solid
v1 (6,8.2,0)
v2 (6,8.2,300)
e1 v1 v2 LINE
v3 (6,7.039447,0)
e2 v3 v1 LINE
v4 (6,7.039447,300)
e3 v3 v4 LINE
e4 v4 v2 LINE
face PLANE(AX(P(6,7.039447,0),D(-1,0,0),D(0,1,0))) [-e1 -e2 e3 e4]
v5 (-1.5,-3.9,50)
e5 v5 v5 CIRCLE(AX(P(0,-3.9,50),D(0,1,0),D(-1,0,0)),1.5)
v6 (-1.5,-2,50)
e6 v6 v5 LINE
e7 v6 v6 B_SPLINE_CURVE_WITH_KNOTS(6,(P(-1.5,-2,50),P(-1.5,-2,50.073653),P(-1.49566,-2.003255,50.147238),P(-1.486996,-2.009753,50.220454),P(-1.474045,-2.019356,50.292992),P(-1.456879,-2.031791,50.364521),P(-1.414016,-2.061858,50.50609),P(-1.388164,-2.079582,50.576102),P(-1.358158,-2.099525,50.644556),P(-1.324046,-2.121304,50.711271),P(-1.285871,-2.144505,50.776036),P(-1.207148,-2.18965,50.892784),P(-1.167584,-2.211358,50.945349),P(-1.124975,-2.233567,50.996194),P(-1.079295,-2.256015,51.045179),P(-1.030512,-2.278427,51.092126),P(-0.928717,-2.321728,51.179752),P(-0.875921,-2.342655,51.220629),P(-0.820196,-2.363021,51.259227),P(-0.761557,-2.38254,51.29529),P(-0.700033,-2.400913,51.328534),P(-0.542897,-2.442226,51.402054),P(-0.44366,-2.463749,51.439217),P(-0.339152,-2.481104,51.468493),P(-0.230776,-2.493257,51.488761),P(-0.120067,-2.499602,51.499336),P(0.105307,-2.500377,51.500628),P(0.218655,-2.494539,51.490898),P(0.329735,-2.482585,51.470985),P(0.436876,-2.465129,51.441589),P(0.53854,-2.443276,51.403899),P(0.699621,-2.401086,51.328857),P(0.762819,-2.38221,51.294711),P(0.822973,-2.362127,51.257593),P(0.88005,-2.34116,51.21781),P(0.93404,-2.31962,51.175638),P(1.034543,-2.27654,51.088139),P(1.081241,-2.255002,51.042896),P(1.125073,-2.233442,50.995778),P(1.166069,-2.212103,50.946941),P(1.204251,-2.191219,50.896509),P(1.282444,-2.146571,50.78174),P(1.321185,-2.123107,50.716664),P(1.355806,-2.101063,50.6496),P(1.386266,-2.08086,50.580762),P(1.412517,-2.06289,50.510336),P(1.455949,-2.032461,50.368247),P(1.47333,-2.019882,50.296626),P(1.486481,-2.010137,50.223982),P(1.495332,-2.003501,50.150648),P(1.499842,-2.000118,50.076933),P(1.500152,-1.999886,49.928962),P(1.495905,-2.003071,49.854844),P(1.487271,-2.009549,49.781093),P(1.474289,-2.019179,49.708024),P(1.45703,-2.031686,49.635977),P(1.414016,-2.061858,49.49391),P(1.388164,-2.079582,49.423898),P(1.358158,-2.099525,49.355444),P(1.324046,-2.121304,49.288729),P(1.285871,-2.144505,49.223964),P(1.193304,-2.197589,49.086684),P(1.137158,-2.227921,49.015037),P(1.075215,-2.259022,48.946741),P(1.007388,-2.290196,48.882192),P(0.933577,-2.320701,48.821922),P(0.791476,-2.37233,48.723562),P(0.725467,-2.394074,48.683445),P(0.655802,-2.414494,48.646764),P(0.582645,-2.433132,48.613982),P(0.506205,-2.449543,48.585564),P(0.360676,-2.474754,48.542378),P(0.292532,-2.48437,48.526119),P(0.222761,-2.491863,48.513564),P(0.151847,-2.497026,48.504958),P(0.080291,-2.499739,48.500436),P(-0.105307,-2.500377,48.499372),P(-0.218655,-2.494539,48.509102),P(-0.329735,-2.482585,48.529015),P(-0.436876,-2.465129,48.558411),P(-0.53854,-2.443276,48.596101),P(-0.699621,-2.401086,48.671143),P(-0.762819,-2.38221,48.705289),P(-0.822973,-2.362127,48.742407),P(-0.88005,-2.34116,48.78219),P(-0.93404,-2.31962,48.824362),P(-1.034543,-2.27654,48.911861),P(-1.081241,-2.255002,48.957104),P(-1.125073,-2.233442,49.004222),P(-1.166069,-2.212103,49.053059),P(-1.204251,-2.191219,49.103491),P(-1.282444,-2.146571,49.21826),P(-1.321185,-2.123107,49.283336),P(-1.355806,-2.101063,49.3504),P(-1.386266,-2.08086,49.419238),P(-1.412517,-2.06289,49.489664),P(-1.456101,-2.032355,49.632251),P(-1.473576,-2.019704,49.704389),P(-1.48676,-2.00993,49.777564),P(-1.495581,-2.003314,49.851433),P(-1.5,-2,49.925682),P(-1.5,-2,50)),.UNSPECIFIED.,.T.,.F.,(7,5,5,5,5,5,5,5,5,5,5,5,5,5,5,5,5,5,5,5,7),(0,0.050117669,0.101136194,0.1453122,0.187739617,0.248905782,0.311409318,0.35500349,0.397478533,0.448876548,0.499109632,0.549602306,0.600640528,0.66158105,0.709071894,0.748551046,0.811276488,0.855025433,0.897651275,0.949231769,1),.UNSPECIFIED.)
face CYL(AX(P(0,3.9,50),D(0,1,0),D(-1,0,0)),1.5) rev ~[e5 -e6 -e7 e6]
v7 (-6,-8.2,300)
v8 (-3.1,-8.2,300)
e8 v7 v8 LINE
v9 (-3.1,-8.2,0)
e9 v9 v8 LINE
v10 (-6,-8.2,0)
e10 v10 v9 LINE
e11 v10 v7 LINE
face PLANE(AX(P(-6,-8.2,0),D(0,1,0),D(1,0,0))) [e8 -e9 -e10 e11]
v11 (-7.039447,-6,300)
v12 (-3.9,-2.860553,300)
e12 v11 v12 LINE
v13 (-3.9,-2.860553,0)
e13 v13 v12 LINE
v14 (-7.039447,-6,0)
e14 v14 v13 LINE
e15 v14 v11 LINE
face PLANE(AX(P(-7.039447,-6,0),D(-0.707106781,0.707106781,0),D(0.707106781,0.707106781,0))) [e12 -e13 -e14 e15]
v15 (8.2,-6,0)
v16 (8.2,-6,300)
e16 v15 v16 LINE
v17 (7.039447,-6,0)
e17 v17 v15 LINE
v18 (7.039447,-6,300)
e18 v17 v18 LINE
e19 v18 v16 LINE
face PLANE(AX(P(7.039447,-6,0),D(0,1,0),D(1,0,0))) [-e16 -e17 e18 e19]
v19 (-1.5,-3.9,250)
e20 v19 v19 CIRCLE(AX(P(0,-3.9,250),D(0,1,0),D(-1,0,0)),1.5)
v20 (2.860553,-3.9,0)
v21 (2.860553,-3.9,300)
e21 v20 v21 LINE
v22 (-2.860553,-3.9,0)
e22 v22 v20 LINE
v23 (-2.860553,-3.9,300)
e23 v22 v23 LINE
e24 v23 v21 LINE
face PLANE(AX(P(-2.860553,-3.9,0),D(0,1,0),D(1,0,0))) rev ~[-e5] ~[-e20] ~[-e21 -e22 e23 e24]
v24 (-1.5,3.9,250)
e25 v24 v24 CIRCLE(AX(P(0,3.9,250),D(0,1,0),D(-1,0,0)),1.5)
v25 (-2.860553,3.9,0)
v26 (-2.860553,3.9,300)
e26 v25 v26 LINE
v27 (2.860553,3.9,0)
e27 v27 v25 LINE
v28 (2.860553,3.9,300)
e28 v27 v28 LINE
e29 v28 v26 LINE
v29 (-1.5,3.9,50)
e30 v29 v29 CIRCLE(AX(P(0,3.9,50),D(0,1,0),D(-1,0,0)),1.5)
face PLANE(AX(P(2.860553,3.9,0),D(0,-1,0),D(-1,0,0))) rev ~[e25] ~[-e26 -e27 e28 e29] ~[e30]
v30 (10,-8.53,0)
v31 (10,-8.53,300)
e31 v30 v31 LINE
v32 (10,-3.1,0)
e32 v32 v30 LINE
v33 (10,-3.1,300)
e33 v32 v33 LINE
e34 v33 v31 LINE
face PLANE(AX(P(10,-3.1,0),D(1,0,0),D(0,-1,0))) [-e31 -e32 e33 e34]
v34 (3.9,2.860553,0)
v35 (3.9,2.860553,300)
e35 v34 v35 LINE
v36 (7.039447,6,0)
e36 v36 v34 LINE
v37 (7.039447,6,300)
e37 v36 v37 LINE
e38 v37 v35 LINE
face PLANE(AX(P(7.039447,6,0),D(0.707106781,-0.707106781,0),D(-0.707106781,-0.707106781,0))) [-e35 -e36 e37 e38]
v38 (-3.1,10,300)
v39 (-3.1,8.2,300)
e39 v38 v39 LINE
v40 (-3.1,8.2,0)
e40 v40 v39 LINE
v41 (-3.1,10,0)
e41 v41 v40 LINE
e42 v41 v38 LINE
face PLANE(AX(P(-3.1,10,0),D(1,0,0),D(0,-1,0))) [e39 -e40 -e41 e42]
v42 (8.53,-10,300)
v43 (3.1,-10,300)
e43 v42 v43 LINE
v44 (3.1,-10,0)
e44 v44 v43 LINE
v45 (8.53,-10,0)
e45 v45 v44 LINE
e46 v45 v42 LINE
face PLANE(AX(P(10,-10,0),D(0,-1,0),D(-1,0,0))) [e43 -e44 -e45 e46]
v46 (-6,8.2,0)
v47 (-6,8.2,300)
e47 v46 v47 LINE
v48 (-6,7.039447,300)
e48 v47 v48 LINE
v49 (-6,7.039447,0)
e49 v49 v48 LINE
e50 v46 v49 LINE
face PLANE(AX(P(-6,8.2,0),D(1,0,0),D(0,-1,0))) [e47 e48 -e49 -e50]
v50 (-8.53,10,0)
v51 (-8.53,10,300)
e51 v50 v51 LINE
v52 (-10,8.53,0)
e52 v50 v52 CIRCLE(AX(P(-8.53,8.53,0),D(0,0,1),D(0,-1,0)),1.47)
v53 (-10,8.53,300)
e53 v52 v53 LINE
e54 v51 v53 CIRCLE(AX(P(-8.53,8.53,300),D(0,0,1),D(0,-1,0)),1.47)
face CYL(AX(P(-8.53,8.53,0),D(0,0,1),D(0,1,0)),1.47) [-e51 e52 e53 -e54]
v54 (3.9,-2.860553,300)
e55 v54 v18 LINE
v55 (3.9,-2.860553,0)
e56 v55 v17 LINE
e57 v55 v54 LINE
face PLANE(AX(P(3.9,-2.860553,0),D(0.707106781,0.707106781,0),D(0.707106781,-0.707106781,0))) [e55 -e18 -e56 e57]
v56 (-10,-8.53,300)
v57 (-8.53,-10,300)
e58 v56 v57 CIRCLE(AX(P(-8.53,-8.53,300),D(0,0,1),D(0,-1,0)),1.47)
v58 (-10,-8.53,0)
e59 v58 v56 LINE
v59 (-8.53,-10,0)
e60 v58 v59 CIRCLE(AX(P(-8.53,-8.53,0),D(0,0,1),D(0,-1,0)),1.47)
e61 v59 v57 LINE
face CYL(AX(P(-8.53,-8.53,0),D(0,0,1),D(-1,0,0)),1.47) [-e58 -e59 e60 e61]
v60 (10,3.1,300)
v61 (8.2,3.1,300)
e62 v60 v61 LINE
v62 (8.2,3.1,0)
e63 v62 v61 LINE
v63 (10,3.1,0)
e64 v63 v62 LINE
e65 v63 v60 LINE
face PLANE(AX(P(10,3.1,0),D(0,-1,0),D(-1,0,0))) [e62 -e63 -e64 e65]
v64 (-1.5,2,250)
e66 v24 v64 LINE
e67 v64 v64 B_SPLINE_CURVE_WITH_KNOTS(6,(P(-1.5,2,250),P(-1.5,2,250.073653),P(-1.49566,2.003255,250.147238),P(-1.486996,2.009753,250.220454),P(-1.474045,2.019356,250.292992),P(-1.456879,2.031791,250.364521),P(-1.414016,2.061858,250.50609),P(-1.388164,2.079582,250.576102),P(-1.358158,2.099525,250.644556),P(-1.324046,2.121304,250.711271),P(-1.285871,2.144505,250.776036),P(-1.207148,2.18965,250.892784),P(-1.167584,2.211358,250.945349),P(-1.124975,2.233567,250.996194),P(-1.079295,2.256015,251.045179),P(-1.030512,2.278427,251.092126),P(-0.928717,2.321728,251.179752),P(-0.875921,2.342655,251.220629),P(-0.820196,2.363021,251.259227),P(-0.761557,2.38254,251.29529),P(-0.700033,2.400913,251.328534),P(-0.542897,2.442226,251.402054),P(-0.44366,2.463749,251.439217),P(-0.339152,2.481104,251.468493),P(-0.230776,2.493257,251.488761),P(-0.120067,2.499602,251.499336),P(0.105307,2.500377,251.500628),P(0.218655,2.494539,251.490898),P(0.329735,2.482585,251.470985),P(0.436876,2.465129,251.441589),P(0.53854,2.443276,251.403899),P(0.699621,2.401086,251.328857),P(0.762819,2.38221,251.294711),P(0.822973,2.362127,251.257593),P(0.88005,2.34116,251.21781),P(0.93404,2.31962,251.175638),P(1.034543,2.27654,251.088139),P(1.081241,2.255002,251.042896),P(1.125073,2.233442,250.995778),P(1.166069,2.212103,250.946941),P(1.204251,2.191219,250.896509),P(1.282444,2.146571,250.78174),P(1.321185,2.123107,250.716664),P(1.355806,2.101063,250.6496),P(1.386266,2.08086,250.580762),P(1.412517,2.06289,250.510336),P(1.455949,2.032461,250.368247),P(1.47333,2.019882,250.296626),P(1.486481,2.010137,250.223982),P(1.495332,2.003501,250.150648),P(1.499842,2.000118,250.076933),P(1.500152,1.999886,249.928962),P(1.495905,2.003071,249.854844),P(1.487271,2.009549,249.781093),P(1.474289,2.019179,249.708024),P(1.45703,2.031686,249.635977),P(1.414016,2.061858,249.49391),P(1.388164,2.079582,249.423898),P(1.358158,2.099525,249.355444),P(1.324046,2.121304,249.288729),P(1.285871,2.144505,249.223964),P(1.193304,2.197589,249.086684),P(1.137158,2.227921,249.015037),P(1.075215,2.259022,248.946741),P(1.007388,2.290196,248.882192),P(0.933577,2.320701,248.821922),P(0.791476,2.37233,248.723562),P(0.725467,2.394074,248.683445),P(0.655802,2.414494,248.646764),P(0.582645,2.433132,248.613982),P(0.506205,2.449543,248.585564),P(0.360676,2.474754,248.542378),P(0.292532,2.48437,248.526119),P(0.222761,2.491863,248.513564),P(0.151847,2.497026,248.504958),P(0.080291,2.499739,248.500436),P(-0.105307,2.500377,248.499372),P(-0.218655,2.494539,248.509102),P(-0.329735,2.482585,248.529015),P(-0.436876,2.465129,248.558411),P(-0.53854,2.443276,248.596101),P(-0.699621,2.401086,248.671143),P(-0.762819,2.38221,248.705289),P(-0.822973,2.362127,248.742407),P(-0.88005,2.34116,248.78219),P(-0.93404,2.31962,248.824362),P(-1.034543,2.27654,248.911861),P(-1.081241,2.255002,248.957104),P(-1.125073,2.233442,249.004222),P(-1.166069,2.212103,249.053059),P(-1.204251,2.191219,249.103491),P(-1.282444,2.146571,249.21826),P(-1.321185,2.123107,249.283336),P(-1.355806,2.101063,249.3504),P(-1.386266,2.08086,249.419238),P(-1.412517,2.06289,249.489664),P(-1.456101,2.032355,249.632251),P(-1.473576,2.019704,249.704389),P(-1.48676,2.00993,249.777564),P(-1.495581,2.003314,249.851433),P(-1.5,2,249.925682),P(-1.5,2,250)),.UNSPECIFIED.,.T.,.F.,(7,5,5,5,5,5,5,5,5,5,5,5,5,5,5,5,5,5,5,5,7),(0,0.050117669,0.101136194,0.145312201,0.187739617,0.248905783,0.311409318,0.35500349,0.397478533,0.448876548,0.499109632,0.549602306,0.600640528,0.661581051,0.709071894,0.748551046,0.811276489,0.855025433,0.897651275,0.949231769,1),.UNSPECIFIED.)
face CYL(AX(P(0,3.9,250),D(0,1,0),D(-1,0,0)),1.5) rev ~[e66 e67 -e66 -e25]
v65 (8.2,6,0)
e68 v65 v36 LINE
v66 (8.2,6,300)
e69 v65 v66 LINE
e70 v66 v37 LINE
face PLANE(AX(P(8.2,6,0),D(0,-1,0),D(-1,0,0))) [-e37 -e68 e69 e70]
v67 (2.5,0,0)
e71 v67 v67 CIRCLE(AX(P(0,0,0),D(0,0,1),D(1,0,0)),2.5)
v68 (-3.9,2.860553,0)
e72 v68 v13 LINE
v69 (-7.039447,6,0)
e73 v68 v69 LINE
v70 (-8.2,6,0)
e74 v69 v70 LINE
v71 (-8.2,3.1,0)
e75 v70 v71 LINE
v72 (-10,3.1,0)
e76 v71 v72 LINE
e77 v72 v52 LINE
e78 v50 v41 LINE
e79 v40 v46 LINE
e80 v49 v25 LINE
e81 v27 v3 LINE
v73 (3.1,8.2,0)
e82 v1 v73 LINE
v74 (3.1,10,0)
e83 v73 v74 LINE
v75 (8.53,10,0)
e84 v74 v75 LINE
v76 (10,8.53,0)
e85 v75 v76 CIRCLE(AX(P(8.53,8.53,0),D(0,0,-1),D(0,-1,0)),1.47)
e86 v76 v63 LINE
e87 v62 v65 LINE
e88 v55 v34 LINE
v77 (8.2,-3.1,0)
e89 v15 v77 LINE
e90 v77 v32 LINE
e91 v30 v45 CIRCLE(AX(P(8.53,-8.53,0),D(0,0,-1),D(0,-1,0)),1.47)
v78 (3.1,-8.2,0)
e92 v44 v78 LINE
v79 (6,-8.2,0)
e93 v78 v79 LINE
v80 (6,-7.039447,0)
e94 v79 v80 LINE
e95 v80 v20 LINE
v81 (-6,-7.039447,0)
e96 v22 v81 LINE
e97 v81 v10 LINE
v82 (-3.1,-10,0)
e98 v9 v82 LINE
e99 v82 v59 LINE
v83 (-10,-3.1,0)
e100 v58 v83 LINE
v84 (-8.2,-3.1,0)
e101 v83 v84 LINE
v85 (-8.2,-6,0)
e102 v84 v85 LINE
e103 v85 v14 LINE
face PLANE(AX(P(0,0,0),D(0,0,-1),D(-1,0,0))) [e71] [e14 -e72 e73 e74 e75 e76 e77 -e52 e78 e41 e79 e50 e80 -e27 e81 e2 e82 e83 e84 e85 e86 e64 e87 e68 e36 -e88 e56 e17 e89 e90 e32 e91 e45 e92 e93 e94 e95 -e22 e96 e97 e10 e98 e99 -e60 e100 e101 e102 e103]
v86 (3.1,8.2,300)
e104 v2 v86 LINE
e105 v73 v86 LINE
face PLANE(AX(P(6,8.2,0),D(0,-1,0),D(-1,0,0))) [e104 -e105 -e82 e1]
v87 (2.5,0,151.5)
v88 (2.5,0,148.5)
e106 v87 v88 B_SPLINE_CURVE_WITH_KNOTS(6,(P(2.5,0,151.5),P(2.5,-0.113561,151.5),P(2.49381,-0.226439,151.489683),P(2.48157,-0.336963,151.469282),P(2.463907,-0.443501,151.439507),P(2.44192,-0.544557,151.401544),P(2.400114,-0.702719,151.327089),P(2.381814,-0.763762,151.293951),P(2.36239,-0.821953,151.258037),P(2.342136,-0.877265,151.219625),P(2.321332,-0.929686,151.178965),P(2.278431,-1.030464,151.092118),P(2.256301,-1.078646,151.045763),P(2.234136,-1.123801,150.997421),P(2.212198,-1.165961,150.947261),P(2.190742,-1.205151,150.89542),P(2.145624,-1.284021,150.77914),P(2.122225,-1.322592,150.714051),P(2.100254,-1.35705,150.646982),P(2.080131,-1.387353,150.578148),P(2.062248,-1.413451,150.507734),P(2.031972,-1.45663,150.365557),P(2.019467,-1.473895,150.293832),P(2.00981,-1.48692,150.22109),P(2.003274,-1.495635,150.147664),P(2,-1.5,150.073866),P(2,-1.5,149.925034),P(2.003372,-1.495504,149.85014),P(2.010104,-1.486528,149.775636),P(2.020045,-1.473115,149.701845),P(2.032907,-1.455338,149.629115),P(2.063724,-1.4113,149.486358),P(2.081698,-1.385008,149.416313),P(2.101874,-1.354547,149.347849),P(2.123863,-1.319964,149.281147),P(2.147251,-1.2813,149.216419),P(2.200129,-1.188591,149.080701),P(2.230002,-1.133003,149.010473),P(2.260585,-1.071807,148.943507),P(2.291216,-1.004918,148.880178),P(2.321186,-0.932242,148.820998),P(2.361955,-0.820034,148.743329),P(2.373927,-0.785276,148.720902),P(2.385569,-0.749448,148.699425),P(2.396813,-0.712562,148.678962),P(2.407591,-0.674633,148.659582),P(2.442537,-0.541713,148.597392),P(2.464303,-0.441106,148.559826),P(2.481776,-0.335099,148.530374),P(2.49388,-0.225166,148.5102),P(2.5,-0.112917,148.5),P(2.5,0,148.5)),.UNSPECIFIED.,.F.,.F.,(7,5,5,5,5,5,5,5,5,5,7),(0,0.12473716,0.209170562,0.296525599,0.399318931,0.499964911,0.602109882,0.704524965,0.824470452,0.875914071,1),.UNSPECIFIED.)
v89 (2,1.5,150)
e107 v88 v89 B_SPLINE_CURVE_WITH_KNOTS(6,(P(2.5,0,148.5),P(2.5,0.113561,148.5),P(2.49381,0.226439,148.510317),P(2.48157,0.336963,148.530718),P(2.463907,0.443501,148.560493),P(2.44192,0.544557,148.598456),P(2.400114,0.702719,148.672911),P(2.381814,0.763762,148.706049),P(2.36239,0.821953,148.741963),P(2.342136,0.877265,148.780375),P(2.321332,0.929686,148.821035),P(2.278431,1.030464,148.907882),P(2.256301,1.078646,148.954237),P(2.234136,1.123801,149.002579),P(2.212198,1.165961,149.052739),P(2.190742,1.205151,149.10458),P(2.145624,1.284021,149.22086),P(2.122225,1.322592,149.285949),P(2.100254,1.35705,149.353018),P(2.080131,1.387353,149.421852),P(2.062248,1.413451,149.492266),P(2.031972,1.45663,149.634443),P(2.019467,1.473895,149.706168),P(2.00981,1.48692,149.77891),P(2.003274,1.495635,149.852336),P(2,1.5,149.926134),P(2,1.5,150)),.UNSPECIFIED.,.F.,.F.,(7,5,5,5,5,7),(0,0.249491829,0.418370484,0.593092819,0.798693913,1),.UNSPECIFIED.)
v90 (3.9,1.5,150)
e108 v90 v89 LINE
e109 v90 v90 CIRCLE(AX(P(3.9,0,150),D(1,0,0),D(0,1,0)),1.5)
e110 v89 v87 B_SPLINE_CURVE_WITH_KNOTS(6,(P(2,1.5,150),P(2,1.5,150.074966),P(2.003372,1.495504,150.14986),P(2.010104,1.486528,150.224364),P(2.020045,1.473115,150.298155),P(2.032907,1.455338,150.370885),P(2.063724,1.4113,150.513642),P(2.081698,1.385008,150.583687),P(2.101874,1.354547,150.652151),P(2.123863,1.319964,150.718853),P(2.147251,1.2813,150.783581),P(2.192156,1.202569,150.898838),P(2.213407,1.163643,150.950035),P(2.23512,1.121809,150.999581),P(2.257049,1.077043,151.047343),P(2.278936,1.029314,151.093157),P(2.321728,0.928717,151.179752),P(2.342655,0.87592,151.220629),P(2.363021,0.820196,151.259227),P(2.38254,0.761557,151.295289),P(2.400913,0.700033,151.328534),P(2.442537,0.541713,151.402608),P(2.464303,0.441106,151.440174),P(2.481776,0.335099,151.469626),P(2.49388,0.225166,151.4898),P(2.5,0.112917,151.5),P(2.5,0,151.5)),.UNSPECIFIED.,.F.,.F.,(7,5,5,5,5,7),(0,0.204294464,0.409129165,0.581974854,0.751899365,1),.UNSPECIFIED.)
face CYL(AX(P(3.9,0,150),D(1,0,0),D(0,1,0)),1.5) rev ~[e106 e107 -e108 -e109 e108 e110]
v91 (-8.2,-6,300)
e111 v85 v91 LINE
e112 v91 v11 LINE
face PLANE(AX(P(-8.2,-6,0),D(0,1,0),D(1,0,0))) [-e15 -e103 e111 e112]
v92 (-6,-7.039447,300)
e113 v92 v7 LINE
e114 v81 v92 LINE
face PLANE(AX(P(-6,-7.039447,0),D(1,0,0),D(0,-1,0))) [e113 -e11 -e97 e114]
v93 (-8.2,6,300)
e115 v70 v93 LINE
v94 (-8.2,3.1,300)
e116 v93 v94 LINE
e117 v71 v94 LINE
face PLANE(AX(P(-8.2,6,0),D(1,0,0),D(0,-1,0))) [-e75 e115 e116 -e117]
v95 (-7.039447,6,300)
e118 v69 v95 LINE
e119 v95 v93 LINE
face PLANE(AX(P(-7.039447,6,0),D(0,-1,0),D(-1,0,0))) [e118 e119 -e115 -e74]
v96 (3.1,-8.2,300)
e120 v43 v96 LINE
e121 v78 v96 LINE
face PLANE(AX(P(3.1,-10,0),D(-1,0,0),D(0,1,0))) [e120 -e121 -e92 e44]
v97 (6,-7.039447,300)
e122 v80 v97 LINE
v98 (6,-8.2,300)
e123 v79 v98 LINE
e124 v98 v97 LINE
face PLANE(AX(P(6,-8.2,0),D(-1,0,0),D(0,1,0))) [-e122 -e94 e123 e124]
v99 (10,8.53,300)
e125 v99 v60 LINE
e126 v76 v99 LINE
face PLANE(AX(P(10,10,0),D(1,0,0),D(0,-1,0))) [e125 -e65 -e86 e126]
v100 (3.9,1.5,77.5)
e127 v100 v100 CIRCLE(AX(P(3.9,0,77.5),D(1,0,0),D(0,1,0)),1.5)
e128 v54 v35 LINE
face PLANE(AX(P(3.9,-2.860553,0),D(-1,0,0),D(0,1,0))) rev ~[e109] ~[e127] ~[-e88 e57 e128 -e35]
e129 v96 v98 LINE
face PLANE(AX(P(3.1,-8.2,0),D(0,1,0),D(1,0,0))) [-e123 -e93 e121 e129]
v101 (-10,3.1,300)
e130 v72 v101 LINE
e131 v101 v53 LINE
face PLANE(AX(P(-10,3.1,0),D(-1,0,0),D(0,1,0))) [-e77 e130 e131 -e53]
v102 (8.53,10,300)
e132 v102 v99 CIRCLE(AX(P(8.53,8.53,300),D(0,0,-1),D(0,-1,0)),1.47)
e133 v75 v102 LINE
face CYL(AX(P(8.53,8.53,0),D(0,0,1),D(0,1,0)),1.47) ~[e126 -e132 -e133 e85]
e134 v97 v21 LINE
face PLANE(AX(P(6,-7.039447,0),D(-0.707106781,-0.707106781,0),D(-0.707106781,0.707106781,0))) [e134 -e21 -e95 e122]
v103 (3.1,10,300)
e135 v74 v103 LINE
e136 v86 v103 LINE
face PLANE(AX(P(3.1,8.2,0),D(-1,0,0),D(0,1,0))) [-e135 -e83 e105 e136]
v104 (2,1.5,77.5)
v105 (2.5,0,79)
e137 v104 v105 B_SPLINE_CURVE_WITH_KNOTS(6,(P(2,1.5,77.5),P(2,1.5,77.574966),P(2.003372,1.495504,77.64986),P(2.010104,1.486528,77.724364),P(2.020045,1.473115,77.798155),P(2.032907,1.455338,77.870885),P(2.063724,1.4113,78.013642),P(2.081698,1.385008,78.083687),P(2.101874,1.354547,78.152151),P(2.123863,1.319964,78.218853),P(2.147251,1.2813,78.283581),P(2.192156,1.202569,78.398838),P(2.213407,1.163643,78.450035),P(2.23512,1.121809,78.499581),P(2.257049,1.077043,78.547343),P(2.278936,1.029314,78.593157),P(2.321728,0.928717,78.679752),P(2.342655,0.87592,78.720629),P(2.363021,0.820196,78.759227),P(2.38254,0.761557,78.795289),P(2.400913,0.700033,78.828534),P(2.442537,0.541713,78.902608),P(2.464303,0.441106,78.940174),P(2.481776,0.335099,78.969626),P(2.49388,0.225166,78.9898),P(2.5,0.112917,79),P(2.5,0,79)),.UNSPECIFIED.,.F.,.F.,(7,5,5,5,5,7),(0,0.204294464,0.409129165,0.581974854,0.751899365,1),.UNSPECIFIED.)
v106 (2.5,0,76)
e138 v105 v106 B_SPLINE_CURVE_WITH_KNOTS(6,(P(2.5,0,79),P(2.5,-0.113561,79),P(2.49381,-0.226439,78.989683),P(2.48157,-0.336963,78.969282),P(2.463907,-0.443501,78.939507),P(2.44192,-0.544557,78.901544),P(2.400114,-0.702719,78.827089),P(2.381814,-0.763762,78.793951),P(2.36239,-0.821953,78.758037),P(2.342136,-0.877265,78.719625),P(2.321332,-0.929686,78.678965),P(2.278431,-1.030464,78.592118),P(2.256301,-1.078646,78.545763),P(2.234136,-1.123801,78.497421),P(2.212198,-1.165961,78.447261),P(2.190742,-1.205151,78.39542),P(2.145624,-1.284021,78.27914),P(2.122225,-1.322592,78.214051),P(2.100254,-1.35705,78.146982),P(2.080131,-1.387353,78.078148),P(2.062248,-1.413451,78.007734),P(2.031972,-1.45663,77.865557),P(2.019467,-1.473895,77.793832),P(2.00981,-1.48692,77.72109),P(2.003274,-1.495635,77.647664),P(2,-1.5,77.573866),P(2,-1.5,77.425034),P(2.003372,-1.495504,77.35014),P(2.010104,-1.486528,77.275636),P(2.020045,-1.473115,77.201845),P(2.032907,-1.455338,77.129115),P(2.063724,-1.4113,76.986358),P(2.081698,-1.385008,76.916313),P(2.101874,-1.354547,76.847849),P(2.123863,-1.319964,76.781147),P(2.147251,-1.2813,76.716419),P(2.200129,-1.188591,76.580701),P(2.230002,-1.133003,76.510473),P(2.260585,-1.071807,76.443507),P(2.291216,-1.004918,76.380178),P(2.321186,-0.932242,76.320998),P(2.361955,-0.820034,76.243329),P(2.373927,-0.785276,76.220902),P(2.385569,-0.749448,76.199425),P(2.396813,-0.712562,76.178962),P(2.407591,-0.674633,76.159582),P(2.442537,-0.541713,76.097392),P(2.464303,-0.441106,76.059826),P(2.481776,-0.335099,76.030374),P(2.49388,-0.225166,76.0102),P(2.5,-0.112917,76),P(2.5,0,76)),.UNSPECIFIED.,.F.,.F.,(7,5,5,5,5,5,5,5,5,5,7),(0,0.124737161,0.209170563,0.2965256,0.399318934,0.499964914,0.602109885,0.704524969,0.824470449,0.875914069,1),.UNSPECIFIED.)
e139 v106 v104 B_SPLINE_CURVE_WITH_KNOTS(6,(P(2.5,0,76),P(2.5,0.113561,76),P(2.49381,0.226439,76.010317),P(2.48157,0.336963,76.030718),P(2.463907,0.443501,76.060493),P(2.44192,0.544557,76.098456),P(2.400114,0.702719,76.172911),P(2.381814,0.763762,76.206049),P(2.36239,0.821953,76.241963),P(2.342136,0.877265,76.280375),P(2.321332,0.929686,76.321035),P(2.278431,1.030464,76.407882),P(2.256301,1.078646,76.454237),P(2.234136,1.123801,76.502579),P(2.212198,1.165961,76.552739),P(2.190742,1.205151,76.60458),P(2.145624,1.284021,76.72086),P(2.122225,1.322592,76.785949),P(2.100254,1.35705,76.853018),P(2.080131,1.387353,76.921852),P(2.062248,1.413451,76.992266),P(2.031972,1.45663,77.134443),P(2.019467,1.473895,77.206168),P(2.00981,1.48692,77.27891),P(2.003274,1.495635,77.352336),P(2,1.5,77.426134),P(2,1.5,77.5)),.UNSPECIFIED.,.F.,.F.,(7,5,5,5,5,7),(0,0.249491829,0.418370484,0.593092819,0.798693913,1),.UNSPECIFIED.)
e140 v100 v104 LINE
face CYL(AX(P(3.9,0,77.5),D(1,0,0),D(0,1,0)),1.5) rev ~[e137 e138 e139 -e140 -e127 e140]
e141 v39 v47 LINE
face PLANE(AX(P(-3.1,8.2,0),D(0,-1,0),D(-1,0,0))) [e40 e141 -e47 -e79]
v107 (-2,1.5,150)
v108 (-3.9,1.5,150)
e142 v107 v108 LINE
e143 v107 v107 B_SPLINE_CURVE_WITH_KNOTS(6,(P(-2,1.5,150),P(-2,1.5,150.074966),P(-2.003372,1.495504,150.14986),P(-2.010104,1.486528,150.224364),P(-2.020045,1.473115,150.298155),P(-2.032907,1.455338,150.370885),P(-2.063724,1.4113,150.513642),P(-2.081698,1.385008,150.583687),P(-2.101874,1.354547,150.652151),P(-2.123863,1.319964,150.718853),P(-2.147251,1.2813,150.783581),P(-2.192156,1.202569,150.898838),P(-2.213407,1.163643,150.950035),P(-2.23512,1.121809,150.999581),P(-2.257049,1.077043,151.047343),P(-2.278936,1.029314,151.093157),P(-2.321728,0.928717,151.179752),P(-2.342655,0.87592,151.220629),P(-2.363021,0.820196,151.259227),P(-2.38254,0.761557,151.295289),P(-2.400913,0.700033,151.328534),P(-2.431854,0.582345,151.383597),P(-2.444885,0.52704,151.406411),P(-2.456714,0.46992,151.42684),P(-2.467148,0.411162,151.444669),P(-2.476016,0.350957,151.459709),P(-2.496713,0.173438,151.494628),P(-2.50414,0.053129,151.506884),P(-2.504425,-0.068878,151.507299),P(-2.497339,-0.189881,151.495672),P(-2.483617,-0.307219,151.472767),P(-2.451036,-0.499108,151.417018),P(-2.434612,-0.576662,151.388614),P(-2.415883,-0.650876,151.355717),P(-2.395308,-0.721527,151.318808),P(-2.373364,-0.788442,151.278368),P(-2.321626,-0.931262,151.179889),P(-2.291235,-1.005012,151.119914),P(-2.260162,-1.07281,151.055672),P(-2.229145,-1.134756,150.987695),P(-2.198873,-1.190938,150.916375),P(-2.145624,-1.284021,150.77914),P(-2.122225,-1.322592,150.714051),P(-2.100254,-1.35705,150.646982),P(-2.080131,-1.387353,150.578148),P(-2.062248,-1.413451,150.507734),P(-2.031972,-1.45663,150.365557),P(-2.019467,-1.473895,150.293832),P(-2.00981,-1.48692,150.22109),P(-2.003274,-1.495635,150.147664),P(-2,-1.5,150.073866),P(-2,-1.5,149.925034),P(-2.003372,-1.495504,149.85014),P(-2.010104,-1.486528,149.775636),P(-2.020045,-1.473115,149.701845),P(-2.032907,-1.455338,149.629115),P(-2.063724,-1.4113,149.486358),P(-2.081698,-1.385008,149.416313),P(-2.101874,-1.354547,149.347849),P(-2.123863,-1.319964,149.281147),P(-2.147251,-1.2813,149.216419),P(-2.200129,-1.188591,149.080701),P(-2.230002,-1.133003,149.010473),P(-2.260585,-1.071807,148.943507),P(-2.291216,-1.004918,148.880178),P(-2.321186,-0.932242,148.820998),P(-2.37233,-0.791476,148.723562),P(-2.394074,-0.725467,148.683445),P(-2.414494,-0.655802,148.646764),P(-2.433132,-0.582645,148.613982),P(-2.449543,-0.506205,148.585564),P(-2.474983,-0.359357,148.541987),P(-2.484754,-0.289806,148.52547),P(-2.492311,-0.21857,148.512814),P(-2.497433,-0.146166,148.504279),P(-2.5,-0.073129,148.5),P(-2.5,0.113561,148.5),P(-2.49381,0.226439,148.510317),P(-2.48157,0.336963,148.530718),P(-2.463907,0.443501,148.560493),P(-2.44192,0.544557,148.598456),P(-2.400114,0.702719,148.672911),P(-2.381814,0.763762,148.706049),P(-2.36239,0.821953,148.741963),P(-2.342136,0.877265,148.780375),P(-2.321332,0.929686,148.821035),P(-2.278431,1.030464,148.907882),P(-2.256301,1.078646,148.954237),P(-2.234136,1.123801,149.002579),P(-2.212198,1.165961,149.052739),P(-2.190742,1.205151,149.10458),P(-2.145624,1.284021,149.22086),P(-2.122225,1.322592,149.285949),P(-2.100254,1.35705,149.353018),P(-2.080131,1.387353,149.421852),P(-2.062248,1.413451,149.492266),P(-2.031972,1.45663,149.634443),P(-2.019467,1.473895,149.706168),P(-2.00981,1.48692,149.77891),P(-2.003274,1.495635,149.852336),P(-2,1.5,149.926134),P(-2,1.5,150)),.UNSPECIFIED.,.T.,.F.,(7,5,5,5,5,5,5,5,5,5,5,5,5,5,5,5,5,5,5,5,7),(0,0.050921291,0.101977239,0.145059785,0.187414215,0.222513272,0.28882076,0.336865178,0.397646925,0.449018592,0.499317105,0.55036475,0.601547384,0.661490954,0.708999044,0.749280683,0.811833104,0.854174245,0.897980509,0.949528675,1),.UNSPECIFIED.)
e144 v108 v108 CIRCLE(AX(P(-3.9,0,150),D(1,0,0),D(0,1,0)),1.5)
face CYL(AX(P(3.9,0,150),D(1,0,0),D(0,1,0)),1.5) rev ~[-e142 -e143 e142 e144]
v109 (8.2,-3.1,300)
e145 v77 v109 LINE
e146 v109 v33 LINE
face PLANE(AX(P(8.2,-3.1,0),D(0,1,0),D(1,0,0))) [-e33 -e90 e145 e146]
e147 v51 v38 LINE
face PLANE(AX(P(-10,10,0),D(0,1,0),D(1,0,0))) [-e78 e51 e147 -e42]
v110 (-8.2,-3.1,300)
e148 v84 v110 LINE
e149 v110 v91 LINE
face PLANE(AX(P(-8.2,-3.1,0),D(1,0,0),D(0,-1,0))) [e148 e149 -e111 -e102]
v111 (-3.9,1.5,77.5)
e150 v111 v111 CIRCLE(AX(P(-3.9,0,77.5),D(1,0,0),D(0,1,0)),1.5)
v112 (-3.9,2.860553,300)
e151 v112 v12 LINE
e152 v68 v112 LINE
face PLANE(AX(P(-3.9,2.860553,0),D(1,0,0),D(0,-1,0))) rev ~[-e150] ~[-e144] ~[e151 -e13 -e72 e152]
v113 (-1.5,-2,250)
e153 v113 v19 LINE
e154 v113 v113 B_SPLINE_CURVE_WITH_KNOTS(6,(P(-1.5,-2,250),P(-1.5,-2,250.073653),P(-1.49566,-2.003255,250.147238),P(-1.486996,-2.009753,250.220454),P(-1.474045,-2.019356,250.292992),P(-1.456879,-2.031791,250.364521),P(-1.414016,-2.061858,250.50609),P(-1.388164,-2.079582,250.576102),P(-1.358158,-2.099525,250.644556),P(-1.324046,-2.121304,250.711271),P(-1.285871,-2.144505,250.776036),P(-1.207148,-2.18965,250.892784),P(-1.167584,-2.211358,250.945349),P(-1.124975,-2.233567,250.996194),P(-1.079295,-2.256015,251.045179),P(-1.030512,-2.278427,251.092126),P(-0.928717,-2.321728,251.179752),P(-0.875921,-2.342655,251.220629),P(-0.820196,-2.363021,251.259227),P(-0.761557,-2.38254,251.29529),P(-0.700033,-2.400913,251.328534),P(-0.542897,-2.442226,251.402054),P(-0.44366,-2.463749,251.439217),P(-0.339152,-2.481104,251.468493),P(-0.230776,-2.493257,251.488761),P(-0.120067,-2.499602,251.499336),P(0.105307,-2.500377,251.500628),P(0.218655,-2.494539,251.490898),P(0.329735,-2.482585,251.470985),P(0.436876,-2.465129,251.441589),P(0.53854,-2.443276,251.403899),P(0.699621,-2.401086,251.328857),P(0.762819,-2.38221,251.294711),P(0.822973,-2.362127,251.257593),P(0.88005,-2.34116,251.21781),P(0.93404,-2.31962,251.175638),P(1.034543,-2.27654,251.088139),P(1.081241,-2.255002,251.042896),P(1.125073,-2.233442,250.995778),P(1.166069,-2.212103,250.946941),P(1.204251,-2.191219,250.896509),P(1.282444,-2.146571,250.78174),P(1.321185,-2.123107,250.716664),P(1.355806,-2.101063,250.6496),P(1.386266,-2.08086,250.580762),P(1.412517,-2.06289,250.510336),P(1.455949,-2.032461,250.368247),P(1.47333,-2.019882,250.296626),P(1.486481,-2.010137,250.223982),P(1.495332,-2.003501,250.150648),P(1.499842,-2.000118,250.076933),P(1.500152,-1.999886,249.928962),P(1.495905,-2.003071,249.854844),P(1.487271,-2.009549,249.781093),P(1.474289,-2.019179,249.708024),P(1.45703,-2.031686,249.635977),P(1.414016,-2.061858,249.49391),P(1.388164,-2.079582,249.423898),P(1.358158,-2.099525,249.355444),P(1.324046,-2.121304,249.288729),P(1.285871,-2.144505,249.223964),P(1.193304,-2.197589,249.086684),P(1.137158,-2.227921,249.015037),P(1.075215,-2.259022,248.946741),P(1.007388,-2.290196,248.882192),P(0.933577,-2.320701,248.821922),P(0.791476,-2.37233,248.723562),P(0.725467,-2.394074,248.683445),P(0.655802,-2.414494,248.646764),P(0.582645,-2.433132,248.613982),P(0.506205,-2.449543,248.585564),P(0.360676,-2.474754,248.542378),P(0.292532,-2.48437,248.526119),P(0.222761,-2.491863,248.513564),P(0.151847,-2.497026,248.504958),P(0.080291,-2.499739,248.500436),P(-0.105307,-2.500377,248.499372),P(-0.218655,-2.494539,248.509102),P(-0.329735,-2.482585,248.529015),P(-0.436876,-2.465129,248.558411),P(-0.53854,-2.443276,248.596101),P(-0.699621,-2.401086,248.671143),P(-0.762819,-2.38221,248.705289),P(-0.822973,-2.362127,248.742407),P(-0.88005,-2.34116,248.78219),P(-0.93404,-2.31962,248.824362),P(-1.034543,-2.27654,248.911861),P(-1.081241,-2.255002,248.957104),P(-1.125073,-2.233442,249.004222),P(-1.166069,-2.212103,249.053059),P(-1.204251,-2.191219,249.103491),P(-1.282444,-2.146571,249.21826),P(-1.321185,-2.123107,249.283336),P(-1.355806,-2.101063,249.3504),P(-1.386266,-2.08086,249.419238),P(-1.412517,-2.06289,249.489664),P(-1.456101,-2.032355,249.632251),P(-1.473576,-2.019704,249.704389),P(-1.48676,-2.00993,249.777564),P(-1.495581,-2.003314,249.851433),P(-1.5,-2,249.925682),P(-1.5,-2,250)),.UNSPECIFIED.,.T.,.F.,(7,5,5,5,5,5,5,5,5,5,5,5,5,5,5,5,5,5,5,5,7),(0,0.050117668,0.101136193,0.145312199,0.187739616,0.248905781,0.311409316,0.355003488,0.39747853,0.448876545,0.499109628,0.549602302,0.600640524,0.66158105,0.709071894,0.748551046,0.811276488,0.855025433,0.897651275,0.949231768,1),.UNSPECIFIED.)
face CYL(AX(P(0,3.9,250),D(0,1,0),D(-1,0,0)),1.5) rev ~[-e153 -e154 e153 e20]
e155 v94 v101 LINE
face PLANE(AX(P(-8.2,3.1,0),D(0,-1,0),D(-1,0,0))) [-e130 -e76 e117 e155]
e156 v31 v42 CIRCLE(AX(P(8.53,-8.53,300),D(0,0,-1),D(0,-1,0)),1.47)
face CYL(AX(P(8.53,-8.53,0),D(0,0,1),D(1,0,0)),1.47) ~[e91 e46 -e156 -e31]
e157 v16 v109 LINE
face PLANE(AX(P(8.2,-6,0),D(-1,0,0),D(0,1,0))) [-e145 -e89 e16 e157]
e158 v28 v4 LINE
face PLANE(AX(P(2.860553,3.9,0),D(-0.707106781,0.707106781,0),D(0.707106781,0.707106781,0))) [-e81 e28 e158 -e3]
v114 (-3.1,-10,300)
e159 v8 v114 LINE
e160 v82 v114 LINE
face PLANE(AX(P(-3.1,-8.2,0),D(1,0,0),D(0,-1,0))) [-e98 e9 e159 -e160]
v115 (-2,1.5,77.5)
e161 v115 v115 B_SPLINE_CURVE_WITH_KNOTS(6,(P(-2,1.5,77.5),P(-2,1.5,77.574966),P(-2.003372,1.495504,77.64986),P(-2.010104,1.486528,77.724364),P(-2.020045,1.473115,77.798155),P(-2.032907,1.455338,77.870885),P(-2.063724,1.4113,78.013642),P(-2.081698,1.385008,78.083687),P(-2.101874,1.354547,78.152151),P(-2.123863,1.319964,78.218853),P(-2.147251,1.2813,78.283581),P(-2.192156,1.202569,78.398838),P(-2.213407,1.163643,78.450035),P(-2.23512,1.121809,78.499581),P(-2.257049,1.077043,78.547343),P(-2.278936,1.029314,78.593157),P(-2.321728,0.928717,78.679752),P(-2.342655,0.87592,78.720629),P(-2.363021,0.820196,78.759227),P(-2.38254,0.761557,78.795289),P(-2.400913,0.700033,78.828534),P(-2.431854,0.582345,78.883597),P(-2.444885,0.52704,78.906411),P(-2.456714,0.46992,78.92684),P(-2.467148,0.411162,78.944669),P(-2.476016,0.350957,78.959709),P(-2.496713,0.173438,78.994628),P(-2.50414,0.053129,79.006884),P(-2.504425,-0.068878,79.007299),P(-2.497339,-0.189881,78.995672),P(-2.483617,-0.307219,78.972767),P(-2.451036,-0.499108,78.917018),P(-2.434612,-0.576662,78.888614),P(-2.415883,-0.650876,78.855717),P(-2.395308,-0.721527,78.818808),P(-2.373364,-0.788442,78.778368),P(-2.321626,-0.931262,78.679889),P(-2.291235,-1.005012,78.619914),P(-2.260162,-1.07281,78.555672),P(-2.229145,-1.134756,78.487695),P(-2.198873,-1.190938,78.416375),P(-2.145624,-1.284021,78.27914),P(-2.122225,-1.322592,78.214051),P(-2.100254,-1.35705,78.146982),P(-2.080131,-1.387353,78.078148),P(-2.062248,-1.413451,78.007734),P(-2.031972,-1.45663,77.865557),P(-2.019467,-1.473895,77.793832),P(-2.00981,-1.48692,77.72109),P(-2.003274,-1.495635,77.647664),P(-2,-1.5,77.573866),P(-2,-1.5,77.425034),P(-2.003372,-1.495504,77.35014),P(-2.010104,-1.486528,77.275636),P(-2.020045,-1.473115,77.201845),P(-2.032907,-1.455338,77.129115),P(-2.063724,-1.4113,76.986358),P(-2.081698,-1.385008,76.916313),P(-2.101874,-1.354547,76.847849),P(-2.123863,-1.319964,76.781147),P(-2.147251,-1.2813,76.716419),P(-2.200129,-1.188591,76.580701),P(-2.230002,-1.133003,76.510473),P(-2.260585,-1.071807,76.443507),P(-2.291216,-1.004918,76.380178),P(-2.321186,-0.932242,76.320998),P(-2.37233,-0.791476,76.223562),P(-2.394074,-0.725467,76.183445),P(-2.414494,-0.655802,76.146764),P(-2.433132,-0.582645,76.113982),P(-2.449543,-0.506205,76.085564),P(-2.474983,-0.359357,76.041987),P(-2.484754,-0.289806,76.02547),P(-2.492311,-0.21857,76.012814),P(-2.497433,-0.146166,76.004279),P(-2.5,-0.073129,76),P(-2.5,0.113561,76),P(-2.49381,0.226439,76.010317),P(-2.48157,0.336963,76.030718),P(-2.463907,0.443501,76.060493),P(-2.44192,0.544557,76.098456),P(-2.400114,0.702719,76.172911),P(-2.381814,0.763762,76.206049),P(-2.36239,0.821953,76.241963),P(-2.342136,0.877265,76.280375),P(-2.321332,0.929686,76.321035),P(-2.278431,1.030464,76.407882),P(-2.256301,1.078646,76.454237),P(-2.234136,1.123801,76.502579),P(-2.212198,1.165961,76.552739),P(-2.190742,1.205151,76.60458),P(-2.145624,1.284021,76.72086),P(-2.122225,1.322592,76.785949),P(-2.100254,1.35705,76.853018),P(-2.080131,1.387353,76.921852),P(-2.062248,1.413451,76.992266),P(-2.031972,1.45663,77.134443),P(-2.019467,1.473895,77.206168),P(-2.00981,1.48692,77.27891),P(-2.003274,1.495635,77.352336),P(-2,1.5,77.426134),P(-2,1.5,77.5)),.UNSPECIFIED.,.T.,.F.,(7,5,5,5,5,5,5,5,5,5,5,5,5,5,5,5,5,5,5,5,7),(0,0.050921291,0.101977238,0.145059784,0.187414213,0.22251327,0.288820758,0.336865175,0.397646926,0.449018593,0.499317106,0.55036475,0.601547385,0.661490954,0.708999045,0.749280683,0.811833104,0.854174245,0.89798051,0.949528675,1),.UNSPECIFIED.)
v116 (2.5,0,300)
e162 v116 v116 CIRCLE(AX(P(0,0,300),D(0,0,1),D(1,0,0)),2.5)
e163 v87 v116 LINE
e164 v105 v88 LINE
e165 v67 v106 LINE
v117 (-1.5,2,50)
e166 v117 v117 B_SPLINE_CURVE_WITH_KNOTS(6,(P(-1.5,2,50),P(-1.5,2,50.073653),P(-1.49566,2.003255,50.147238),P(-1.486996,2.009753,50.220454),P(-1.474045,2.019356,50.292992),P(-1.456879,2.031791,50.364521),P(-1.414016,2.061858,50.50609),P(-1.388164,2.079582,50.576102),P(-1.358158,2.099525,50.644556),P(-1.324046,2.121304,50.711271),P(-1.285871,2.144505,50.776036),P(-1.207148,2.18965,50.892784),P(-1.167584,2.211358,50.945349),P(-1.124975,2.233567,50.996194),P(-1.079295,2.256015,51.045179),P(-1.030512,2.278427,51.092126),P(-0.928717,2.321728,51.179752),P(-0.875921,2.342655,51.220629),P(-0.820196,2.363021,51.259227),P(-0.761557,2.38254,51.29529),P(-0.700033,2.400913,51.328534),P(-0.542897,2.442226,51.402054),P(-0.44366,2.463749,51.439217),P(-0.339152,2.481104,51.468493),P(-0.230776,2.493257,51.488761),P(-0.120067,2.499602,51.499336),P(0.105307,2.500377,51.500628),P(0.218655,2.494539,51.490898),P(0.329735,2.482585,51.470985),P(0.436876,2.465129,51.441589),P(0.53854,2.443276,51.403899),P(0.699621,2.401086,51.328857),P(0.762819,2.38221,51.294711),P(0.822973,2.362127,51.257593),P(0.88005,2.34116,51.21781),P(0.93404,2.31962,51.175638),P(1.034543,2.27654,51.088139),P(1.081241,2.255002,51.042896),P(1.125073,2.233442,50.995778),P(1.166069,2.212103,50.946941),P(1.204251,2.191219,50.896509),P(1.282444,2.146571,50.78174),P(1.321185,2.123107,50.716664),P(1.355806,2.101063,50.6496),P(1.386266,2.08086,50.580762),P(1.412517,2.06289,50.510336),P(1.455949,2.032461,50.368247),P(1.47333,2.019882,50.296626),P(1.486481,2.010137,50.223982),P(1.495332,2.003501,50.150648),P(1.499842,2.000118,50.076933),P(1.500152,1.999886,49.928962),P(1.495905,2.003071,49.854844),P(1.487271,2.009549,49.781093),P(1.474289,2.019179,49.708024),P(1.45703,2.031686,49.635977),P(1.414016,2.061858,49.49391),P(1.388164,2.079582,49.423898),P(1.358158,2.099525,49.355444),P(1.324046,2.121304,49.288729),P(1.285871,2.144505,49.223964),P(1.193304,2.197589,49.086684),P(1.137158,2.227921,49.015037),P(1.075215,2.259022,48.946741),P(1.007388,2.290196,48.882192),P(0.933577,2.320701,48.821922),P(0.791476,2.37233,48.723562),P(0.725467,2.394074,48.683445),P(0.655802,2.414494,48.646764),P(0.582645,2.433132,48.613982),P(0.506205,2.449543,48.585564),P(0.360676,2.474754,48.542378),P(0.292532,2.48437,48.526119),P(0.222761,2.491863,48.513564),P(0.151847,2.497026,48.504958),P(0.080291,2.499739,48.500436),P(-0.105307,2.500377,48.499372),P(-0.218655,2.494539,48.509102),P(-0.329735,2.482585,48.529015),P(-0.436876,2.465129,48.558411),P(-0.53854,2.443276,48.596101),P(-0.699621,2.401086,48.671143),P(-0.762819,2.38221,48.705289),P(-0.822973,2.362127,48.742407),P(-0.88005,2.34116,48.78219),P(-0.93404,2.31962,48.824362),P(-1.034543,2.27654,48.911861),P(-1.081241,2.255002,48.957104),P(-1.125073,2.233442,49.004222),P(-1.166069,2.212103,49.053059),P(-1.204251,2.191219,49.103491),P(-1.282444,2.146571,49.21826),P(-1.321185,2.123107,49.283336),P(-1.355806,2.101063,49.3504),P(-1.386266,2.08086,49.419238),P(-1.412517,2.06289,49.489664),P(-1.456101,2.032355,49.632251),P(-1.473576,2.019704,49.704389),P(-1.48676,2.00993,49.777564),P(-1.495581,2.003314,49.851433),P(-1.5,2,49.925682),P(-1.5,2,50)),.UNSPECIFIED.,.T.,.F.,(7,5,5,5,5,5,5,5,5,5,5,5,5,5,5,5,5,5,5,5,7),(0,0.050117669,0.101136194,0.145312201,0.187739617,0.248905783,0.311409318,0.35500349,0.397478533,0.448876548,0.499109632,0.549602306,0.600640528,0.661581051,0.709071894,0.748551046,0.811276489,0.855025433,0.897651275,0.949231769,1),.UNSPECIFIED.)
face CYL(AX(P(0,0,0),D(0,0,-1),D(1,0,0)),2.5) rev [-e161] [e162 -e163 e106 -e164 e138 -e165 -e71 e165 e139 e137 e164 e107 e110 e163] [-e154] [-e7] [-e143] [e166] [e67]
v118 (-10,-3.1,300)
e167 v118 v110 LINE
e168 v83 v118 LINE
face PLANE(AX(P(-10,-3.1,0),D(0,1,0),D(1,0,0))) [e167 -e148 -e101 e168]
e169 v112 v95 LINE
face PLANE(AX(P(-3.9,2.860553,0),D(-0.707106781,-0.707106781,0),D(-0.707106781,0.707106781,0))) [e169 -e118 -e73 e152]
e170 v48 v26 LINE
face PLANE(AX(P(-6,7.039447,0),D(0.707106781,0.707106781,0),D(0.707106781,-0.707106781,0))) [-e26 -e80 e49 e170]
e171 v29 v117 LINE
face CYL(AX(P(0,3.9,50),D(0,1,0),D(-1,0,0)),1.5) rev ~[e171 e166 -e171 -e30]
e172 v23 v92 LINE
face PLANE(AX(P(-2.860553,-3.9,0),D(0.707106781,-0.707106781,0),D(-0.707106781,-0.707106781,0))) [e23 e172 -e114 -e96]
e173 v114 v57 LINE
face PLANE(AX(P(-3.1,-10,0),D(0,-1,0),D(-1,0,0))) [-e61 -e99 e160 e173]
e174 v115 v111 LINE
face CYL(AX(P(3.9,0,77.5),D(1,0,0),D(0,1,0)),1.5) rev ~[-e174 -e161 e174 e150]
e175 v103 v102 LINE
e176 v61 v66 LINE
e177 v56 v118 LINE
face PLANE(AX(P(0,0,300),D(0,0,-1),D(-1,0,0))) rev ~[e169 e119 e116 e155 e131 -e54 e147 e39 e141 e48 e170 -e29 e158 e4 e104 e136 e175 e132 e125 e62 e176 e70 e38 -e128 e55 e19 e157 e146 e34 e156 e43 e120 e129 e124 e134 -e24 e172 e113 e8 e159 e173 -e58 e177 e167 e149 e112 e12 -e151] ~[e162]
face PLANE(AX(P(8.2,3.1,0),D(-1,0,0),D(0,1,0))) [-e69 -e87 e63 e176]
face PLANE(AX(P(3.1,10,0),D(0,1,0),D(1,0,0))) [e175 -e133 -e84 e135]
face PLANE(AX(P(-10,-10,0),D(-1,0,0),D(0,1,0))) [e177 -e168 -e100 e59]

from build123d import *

# Parameters (mm, degrees)
SKETCH1_R           = 2.5
BOSS_EXTRUDE1_DEPTH = 300
FILLET1_R           = 1.47
SKETCH2_R           = 1.5
CUT_EXTRUDE1_DEPTH  = 301.488285961
SKETCH3_R           = 1.5
CUT_EXTRUDE2_DEPTH  = 301.488286061
SKETCH4_R           = 1.5
CUT_EXTRUDE3_DEPTH  = 301.488286061


with BuildPart() as part:
    # Sketch1 → Boss-Extrude1 (new body)
    with BuildSketch(Plane.XY):
        Polygon((2.860553032, 3.9), (6, 7.039446968), (6, 8.2), (3.1, 8.2), (3.1, 10), (10, 10), (10, 3.1), (8.2, 3.1), (8.2, 6), (7.039446968, 6), (3.9, 2.860553032), (3.9, 0), (3.9, -2.860553032), (7.039446968, -6), (8.2, -6), (8.2, -3.1), (10, -3.1), (10, -10), (3.1, -10), (3.1, -8.2), (6, -8.2), (6, -7.039446968), (2.860553032, -3.9), (0, -3.9), (-2.860553032, -3.9), (-6, -7.039446968), (-6, -8.2), (-3.1, -8.2), (-3.1, -10), (-10, -10), (-10, -3.1), (-8.2, -3.1), (-8.2, -6), (-7.039446968, -6), (-3.9, -2.860553032), (-3.9, 0), (-3.9, 2.860553032), (-7.039446968, 6), (-8.2, 6), (-8.2, 3.1), (-10, 3.1), (-10, 10), (-3.1, 10), (-3.1, 8.2), (-6, 8.2), (-6, 7.039446968), (-2.860553032, 3.9), (0, 3.9), align=None)
        Circle(SKETCH1_R, mode=Mode.SUBTRACT)
    extrude(amount=BOSS_EXTRUDE1_DEPTH)

    # Fillet1
    fillet1_edges = [part.edges().sort_by_distance(p)[0] for p in [
        (10, -10, 150),
        (-10, -10, 150),
        (-10, 10, 150),
        (10, 10, 150),
    ]]
    fillet(fillet1_edges, radius=FILLET1_R)

    # Sketch2 → Cut-Extrude1 (cut, through all)
    with BuildSketch(Plane(origin=(3.9, 0, 0), x_dir=(0, 0, -1), z_dir=(1, 0, 0))):
        with Locations(Location((-150, 0, 0), (0, 0, 90))):
            Circle(SKETCH2_R)
    extrude(amount=-CUT_EXTRUDE1_DEPTH, mode=Mode.SUBTRACT)

    # Sketch3 → Cut-Extrude2 (cut, through all)
    with BuildSketch(Plane(origin=(3.9, 0, 0), x_dir=(0, 0, -1), z_dir=(1, 0, 0))):
        with Locations(Location((-77.5, 0, 0), (0, 0, 90))):
            Circle(SKETCH3_R)
    extrude(amount=-CUT_EXTRUDE2_DEPTH, mode=Mode.SUBTRACT)

    # Sketch4 → Cut-Extrude3 (cut, through all)
    with BuildSketch(Plane(origin=(0, 3.9, 0), x_dir=(1, 0, 0), z_dir=(0, 1, 0))):
        with Locations(Location((0, -50, 0), (0, 0, 180))):
            Circle(SKETCH4_R)
        with Locations(Location((0, -250, 0), (0, 0, 180))):
            Circle(SKETCH4_R)
    extrude(amount=-CUT_EXTRUDE3_DEPTH, mode=Mode.SUBTRACT)


solid = part.part
